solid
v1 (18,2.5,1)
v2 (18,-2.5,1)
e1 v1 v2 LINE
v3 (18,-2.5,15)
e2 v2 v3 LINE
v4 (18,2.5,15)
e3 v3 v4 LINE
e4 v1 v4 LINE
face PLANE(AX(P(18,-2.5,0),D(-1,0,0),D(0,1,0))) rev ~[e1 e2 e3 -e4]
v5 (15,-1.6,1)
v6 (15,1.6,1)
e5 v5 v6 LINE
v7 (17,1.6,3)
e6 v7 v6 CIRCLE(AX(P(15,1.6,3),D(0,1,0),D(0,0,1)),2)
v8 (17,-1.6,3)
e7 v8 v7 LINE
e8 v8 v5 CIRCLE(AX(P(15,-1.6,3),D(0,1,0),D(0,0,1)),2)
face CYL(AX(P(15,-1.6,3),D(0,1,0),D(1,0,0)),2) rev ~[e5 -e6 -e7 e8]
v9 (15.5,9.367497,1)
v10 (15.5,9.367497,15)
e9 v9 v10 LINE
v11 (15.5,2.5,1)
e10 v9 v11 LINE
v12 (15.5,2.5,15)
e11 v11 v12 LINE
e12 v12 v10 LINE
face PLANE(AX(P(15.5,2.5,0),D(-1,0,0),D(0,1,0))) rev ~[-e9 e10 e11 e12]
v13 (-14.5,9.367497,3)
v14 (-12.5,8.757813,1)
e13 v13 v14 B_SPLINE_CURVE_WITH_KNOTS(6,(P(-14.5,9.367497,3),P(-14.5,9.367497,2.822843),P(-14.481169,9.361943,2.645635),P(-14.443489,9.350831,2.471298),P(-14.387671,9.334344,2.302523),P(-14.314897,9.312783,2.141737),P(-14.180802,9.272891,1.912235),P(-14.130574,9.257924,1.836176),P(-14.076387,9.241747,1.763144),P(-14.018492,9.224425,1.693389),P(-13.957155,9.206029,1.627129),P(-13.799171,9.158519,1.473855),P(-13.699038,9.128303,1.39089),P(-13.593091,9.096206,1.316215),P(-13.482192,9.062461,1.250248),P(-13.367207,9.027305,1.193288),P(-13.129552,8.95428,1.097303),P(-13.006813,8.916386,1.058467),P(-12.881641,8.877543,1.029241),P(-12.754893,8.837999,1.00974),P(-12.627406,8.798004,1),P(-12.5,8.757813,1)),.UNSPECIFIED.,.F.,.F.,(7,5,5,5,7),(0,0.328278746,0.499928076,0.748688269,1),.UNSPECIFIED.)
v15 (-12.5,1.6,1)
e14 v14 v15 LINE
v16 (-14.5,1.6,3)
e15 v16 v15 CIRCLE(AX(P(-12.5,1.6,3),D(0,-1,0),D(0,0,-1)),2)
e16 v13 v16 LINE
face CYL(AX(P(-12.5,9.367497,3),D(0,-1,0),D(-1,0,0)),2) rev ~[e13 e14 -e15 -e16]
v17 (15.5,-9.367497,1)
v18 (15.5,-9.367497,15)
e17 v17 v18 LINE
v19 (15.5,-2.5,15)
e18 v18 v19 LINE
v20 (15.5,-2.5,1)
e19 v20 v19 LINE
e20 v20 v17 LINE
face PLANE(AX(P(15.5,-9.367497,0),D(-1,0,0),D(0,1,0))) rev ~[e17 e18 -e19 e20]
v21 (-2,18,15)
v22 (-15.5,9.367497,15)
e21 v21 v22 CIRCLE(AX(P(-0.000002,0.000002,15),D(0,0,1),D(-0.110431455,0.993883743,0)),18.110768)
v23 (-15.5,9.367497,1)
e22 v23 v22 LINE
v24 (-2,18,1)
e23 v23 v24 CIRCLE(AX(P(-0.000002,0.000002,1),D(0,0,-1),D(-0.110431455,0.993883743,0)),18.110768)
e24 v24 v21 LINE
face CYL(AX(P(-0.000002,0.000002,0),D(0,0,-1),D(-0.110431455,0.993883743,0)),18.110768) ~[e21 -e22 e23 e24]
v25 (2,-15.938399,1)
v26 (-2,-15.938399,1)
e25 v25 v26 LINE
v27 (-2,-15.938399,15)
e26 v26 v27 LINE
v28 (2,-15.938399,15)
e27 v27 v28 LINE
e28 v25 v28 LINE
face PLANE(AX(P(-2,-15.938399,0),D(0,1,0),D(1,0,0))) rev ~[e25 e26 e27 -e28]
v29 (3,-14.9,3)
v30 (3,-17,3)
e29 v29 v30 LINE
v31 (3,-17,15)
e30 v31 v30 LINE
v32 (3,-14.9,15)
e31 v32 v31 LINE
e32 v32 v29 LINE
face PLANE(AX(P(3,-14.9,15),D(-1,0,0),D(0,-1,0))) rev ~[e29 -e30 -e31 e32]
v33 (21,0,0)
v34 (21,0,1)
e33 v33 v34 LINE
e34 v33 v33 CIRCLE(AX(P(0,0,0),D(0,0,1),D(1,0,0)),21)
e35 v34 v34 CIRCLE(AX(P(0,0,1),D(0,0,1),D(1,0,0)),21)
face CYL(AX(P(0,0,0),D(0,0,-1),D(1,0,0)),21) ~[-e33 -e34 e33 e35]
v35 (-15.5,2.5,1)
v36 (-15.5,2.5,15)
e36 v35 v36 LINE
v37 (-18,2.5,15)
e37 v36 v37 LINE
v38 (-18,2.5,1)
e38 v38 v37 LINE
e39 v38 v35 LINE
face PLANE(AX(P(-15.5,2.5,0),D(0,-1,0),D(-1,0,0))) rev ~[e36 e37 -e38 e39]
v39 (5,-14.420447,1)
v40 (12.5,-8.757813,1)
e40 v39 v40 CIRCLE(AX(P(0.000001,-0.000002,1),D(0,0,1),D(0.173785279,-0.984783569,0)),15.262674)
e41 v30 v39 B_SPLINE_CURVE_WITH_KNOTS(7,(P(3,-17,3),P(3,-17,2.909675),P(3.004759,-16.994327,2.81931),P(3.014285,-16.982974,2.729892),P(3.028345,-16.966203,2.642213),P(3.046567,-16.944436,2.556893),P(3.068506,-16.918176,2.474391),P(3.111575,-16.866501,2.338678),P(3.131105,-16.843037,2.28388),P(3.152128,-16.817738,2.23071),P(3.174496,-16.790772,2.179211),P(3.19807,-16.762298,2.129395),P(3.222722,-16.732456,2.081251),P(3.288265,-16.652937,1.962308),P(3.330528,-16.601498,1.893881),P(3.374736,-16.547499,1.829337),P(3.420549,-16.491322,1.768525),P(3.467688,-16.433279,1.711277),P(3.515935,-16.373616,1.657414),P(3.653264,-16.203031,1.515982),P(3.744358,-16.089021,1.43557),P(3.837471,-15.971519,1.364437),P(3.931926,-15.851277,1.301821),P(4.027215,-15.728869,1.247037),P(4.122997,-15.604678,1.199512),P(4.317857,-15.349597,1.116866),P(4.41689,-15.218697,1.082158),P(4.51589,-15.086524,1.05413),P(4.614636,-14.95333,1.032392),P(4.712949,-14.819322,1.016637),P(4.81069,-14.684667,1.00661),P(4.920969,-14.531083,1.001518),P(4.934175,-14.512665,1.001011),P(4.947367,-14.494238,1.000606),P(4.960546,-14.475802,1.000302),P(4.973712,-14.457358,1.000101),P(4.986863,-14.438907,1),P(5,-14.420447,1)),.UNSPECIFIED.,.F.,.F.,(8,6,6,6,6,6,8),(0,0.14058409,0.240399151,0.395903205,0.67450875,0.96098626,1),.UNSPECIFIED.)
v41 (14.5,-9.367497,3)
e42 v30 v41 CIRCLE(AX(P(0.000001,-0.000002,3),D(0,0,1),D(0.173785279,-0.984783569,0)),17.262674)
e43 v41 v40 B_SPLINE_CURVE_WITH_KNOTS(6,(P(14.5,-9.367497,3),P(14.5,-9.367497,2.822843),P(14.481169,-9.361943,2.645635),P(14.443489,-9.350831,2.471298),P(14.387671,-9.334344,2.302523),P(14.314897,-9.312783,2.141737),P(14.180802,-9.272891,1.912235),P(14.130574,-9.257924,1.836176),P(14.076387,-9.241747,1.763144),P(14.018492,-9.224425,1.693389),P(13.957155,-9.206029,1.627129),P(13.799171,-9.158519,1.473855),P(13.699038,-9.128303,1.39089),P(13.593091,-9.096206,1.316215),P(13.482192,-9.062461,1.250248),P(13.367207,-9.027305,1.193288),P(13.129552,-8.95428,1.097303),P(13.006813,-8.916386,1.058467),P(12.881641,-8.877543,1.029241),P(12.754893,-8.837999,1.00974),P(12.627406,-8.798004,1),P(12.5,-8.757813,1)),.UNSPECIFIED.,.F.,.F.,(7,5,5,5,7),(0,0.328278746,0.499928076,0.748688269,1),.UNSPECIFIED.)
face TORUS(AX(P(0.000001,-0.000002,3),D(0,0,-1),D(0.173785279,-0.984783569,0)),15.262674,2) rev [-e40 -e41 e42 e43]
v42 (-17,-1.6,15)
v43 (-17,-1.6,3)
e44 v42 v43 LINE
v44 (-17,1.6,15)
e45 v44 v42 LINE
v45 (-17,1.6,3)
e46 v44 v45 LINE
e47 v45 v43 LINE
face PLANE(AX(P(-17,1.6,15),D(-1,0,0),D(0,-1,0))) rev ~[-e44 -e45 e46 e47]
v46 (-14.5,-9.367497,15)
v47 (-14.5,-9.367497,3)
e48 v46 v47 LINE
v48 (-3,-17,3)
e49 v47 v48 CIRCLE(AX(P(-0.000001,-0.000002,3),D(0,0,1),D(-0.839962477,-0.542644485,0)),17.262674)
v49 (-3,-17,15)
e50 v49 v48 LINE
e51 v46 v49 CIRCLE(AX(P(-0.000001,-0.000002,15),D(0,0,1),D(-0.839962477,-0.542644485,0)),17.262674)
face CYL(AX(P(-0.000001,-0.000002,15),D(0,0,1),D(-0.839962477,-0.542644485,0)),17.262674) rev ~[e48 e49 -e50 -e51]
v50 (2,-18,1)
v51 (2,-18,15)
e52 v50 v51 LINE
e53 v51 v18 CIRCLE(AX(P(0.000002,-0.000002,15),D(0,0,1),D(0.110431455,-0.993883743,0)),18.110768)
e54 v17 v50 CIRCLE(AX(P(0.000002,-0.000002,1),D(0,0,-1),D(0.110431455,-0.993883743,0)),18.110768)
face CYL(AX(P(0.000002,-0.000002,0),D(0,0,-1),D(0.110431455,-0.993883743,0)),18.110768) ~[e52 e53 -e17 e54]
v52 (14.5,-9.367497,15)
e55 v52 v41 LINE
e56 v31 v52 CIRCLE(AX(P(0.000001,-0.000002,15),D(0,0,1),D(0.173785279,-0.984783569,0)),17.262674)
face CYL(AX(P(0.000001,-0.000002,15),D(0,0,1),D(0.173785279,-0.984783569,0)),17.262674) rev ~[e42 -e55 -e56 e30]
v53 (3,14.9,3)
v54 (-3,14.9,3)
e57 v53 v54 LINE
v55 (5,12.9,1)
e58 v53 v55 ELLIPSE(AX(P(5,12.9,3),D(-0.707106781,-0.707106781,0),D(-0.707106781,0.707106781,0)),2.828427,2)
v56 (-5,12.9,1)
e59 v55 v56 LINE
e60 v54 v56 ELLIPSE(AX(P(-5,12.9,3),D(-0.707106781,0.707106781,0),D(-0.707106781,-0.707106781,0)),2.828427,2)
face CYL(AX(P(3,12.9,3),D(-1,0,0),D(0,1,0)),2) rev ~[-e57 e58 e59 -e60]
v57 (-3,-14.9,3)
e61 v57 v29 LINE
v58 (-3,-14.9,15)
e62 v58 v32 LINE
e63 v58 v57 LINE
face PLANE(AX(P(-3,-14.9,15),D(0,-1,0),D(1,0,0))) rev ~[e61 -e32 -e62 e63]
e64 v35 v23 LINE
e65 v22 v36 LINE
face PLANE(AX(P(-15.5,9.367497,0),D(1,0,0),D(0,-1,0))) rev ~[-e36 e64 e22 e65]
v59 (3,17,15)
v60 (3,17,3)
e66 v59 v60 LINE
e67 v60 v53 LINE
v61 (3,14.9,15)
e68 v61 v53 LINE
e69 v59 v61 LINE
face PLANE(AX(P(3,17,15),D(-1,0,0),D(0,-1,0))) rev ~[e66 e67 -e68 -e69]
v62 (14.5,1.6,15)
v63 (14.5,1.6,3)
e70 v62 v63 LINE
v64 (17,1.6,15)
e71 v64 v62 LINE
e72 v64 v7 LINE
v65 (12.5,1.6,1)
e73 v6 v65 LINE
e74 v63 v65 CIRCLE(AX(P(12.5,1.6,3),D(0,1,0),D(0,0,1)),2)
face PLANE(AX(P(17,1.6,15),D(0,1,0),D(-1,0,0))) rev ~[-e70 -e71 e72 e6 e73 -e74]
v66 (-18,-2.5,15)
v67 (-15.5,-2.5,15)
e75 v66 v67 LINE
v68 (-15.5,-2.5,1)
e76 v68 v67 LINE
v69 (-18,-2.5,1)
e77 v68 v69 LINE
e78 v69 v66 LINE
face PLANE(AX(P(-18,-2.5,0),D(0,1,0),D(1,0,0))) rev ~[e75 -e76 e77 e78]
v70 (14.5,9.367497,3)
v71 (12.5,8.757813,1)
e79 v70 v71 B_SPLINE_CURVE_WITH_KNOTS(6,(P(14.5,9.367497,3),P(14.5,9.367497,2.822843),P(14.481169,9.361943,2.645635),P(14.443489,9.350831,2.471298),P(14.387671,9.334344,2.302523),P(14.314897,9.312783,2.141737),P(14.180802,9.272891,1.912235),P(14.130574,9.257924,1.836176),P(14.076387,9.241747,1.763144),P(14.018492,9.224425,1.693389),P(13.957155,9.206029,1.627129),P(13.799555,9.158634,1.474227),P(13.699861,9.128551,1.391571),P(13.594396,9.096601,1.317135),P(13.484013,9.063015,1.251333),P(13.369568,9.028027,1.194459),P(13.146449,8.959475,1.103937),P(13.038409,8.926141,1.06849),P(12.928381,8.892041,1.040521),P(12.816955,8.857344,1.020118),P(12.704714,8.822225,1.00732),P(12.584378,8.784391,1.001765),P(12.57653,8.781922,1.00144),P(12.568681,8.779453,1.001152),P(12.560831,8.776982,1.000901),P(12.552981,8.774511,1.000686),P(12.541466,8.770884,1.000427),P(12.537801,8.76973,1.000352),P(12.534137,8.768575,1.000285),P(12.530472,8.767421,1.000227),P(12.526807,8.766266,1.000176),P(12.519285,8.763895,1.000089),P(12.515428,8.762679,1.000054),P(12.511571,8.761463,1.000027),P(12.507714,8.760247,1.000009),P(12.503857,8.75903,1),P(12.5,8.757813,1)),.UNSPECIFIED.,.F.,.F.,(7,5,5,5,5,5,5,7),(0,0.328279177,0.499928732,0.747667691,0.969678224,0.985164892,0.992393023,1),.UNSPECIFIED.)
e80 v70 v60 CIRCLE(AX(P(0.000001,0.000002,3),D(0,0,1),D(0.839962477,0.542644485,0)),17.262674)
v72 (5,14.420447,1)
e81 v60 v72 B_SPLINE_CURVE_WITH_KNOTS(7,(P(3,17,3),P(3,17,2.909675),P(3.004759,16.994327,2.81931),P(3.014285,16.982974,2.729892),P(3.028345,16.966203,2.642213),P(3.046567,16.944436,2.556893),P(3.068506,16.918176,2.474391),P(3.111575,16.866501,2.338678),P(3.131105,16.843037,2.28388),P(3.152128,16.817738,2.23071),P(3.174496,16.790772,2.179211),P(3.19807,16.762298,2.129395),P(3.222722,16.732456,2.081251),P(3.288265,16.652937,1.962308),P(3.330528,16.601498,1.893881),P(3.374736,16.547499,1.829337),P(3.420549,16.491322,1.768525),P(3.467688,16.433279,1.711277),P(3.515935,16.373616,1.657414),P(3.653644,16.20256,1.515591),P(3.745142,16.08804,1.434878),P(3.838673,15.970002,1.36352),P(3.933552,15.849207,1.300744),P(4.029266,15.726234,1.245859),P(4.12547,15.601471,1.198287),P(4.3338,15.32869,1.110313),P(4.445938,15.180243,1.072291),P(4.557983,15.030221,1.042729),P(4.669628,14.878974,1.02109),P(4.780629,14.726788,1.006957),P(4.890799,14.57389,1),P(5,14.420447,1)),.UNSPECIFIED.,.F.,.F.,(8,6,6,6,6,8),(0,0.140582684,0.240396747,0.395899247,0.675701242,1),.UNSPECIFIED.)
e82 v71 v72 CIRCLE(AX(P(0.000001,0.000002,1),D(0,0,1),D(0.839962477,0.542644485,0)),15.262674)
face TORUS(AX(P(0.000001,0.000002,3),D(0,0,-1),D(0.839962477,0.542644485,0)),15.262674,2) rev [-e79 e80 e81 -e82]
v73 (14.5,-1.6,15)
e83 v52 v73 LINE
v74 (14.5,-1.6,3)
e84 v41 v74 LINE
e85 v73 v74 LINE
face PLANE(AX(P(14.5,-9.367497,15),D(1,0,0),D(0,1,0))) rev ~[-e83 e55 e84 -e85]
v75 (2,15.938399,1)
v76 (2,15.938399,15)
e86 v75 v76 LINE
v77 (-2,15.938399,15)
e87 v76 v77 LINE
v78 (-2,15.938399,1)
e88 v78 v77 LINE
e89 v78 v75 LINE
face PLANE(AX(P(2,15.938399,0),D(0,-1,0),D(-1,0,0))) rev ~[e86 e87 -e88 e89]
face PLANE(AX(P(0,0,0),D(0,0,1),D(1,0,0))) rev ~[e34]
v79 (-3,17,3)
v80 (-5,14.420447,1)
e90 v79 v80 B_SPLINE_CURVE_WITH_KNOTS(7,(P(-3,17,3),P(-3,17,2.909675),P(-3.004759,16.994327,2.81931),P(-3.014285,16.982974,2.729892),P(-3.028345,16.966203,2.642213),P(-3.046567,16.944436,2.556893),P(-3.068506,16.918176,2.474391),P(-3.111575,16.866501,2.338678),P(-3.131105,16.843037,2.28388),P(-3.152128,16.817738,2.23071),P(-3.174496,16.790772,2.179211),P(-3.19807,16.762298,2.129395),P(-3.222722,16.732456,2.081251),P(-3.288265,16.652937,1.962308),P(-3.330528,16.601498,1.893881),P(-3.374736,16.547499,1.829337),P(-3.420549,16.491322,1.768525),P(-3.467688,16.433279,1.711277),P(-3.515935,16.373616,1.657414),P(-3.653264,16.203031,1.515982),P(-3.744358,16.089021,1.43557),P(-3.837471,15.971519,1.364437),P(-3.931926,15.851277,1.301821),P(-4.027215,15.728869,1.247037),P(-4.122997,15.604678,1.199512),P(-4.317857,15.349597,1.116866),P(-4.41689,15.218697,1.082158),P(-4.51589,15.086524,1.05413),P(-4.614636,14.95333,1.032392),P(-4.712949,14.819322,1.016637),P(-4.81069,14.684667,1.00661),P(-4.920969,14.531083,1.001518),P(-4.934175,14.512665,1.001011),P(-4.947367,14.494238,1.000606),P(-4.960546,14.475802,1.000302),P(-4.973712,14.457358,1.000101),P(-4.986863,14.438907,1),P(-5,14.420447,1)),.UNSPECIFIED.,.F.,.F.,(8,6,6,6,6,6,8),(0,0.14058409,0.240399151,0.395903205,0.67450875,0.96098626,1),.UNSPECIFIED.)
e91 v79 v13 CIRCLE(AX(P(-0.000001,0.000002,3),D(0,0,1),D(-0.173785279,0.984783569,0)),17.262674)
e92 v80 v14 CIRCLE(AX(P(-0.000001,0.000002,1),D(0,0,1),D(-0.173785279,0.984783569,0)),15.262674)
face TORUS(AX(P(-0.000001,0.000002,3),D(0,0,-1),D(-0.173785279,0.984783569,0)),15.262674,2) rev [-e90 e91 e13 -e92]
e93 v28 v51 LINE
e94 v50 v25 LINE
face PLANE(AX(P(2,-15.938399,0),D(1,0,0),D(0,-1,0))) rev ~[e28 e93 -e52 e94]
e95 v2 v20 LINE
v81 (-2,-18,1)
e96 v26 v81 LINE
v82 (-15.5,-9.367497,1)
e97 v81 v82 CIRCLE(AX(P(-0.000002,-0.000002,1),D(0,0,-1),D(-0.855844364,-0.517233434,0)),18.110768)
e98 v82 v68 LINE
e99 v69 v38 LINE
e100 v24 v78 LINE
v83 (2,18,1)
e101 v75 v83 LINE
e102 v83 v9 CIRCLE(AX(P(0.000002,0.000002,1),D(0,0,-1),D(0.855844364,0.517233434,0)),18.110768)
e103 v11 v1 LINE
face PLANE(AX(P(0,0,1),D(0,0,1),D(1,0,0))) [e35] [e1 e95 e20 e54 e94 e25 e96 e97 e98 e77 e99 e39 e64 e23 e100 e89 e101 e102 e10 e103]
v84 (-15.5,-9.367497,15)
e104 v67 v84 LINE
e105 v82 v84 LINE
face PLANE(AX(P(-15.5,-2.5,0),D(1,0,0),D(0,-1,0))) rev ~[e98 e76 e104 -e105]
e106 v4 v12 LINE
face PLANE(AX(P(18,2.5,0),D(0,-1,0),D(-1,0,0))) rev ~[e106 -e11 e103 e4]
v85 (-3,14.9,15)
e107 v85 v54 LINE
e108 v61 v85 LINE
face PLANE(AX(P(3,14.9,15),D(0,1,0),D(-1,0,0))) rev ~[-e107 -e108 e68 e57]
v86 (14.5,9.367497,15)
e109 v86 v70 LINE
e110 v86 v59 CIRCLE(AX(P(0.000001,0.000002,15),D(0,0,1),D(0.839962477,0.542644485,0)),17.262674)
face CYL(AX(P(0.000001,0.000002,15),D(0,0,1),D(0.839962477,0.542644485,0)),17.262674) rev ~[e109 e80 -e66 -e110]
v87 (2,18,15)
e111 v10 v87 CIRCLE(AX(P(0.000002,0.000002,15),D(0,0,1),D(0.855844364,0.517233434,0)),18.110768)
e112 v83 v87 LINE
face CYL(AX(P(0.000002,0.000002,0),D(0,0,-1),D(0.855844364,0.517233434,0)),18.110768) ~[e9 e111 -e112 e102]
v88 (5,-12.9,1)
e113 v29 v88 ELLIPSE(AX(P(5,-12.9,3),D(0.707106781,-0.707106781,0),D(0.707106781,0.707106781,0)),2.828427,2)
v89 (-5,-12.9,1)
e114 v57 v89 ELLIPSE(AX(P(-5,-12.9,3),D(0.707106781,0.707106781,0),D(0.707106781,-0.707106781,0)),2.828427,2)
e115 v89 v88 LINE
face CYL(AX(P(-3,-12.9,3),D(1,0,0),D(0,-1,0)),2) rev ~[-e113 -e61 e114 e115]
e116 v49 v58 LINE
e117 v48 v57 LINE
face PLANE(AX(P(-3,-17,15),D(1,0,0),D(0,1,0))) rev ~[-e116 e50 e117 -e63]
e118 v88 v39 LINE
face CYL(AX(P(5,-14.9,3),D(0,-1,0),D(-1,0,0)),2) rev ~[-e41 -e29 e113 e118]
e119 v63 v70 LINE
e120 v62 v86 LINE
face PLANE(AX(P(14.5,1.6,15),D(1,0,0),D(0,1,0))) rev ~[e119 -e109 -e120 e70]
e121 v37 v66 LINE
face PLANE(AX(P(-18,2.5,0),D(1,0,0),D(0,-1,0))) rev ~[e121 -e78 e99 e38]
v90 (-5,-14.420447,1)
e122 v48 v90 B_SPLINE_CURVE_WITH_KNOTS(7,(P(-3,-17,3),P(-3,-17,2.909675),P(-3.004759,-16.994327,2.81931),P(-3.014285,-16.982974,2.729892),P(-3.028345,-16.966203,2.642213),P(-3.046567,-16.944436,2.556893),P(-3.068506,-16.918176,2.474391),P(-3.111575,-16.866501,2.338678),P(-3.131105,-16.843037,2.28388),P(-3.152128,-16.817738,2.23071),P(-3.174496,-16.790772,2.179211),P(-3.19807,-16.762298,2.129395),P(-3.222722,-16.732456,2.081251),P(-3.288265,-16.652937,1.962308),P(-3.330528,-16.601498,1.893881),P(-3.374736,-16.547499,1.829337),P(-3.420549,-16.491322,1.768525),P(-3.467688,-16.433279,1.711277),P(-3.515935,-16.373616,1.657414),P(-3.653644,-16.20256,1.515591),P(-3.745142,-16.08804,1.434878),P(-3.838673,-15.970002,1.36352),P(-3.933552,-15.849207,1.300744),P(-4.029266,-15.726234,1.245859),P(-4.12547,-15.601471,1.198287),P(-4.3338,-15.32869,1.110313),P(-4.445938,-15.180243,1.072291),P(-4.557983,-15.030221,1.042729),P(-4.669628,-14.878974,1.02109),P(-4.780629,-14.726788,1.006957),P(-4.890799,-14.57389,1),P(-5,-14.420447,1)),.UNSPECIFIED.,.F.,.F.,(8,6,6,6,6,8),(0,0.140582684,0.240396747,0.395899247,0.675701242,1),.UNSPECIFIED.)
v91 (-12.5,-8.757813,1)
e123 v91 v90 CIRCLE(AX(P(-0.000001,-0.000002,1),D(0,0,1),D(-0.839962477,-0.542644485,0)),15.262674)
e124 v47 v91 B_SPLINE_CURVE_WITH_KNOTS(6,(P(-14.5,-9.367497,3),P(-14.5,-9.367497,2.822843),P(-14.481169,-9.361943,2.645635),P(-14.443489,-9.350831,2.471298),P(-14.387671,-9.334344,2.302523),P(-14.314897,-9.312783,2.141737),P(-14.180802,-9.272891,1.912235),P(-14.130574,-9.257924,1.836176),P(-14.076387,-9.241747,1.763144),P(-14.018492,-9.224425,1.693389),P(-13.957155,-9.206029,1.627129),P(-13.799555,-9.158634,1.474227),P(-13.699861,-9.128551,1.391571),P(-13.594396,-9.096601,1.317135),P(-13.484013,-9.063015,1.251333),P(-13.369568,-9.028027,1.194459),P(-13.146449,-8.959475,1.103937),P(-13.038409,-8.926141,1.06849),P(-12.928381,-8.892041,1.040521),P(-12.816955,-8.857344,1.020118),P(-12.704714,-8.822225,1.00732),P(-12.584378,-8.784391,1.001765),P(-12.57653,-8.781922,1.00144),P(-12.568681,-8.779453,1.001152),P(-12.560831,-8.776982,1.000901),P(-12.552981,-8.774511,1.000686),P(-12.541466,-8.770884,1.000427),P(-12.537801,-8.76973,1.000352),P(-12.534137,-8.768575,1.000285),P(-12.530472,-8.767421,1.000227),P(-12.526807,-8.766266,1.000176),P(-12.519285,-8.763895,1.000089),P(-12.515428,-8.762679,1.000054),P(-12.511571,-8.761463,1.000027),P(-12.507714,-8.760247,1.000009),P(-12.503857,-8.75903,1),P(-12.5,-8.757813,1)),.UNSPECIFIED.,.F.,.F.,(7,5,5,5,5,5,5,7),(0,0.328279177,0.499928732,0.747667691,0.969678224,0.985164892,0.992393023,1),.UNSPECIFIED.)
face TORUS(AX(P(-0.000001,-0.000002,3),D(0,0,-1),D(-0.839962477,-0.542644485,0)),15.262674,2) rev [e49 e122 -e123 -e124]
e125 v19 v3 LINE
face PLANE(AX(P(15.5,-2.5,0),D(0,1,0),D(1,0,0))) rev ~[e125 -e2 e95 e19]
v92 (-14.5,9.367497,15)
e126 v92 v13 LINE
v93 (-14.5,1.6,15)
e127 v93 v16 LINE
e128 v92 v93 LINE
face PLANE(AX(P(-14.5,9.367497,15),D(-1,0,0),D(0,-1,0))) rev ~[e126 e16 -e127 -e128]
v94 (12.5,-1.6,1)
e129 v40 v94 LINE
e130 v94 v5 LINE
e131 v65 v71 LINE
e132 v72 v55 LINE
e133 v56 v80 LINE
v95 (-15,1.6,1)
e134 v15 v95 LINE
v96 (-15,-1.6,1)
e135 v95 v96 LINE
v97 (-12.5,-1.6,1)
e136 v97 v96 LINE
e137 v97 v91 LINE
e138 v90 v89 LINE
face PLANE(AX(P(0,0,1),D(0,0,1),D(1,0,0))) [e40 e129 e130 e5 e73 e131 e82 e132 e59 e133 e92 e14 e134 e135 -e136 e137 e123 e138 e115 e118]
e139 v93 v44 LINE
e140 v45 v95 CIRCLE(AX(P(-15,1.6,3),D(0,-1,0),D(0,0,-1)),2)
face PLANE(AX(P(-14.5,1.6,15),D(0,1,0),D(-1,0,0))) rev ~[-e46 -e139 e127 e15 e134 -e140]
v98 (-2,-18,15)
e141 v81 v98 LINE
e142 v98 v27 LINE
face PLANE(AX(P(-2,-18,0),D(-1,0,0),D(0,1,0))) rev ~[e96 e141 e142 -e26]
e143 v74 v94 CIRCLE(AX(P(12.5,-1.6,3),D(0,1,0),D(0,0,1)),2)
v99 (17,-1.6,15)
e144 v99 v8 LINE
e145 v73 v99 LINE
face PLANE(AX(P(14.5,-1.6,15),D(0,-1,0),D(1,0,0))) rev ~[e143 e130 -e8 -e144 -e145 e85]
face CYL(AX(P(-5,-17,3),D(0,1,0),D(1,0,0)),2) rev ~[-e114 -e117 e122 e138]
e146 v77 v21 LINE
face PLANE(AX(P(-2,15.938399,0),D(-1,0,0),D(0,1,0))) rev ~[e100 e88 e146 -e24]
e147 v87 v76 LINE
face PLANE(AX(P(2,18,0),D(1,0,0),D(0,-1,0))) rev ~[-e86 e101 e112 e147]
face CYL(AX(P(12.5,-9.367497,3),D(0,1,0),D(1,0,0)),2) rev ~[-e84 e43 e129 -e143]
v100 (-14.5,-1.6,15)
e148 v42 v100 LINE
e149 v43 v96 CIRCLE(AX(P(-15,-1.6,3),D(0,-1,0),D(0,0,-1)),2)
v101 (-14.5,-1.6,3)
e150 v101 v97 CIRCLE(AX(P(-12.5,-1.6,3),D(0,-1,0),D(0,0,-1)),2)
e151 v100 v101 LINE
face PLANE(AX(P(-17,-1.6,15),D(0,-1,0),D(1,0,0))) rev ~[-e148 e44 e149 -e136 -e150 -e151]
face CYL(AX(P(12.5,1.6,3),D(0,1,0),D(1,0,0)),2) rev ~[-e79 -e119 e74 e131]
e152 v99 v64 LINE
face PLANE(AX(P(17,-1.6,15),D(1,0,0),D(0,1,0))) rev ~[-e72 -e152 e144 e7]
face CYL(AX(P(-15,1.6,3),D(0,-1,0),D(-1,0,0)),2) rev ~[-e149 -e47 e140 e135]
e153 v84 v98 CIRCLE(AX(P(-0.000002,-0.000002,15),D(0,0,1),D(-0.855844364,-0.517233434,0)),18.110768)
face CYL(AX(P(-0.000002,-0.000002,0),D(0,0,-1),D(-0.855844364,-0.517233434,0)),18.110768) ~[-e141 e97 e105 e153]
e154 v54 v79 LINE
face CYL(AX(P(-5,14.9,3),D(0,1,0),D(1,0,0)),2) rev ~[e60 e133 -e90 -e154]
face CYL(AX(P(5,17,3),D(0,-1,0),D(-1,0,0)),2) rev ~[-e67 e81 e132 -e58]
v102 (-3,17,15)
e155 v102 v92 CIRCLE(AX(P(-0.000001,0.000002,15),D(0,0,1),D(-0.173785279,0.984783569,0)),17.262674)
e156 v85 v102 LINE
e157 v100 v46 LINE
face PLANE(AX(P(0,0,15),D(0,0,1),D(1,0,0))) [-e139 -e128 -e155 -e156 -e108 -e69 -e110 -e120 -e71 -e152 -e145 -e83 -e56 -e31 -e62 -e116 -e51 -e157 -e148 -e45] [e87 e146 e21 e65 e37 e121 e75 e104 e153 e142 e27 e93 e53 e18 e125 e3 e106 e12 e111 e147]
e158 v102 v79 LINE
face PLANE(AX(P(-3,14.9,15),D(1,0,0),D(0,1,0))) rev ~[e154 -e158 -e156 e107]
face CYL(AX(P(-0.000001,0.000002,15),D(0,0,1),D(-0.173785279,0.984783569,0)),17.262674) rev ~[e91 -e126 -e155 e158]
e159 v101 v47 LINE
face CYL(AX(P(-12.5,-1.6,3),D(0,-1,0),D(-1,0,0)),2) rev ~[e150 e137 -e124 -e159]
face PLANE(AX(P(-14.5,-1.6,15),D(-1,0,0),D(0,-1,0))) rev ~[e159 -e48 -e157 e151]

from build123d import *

# Parameters (mm, degrees)
F0_R     = 21
F1_DEPTH = 1
F2_DEPTH = 15
F4_DEPTH = 14
F5_R     = 2


with BuildPart() as f1:
    # F0 (on Top) → F1 (new body)
    with BuildSketch(Plane.XY):
        Circle(F0_R)
        with BuildLine():
            Line((-15.5, -2.5), (-18, -2.5))
            Line((-18, -2.5), (-18, 0))
            Line((-18, 0), (-18, 2.5))
            Line((-18, 2.5), (-15.5, 2.5))
            Line((-15.5, 2.5), (-15.5, 9.367497))
            ThreePointArc((-15.5, 9.367497), (-9.756666, 15.25803), (-2, 18))
            Line((-2, 18), (-2, 15.938399))
            Line((-2, 15.938399), (0, 15.938399))
            Line((0, 15.938399), (2, 15.938399))
            Line((2, 15.938399), (2, 18))
            ThreePointArc((2, 18), (9.756666, 15.25803), (15.5, 9.367497))
            Line((15.5, 9.367497), (15.5, 2.5))
            Line((15.5, 2.5), (18, 2.5))
            Line((18, 2.5), (18, 0))
            Line((18, 0), (18, -2.5))
            Line((18, -2.5), (15.5, -2.5))
            Line((15.5, -2.5), (15.5, -9.367497))
            ThreePointArc((15.5, -9.367497), (9.756666, -15.25803), (2, -18))
            Line((2, -18), (2, -15.938399))
            Line((2, -15.938399), (0, -15.938399))
            Line((0, -15.938399), (-2, -15.938399))
            Line((-2, -15.938399), (-2, -18))
            ThreePointArc((-2, -18), (-9.756666, -15.25803), (-15.5, -9.367497))
            Line((-15.5, -9.367497), (-15.5, -2.5))
        make_face(mode=Mode.SUBTRACT)
        with BuildLine():
            Line((-18, 0), (-18, -2.5))
            Line((-18, -2.5), (-15.5, -2.5))
            Line((-15.5, -2.5), (-15.5, -9.367497))
            ThreePointArc((-15.5, -9.367497), (-9.756666, -15.25803), (-2, -18))
            Line((-2, -18), (-2, -15.938399))
            Line((-2, -15.938399), (0, -15.938399))
            Line((0, -15.938399), (2, -15.938399))
            Line((2, -15.938399), (2, -18))
            ThreePointArc((2, -18), (9.756666, -15.25803), (15.5, -9.367497))
            Line((15.5, -9.367497), (15.5, -2.5))
            Line((15.5, -2.5), (18, -2.5))
            Line((18, -2.5), (18, 0))
            Line((18, 0), (18, 2.5))
            Line((18, 2.5), (15.5, 2.5))
            Line((15.5, 2.5), (15.5, 9.367497))
            ThreePointArc((15.5, 9.367497), (9.756666, 15.25803), (2, 18))
            Line((2, 18), (2, 15.938399))
            Line((2, 15.938399), (0, 15.938399))
            Line((0, 15.938399), (-2, 15.938399))
            Line((-2, 15.938399), (-2, 18))
            ThreePointArc((-2, 18), (-9.756666, 15.25803), (-15.5, 9.367497))
            Line((-15.5, 9.367497), (-15.5, 2.5))
            Line((-15.5, 2.5), (-18, 2.5))
            Line((-18, 2.5), (-18, 0))
        make_face()
    extrude(amount=F1_DEPTH)

    # F0 (on Top) → F2 (join)
    with BuildSketch(Plane.XY):
        with BuildLine():
            Line((-18, 0), (-18, -2.5))
            Line((-18, -2.5), (-15.5, -2.5))
            Line((-15.5, -2.5), (-15.5, -9.367497))
            ThreePointArc((-15.5, -9.367497), (-9.756666, -15.25803), (-2, -18))
            Line((-2, -18), (-2, -15.938399))
            Line((-2, -15.938399), (0, -15.938399))
            Line((0, -15.938399), (2, -15.938399))
            Line((2, -15.938399), (2, -18))
            ThreePointArc((2, -18), (9.756666, -15.25803), (15.5, -9.367497))
            Line((15.5, -9.367497), (15.5, -2.5))
            Line((15.5, -2.5), (18, -2.5))
            Line((18, -2.5), (18, 0))
            Line((18, 0), (18, 2.5))
            Line((18, 2.5), (15.5, 2.5))
            Line((15.5, 2.5), (15.5, 9.367497))
            ThreePointArc((15.5, 9.367497), (9.756666, 15.25803), (2, 18))
            Line((2, 18), (2, 15.938399))
            Line((2, 15.938399), (0, 15.938399))
            Line((0, 15.938399), (-2, 15.938399))
            Line((-2, 15.938399), (-2, 18))
            ThreePointArc((-2, 18), (-9.756666, 15.25803), (-15.5, 9.367497))
            Line((-15.5, 9.367497), (-15.5, 2.5))
            Line((-15.5, 2.5), (-18, 2.5))
            Line((-18, 2.5), (-18, 0))
        make_face()
    extrude(amount=F2_DEPTH)

    # F3 (on face) → F4 (cut)
    with BuildSketch(Plane.XY.offset(15)):
        with BuildLine():
            Line((-17, 0), (-17, -1.6))
            Line((-17, -1.6), (-14.5, -1.6))
            Line((-14.5, -1.6), (-14.5, -9.367497))
            ThreePointArc((-14.5, -9.367497), (-9.546008, -14.383106), (-3, -17))
            Line((-3, -17), (-3, -14.9))
            Line((-3, -14.9), (0, -14.9))
            Line((0, -14.9), (3, -14.9))
            Line((3, -14.9), (3, -17))
            ThreePointArc((3, -17), (9.546008, -14.383106), (14.5, -9.367497))
            Line((14.5, -9.367497), (14.5, -1.6))
            Line((14.5, -1.6), (17, -1.6))
            Line((17, -1.6), (17, 0))
            Line((17, 0), (17, 1.6))
            Line((17, 1.6), (14.5, 1.6))
            Line((14.5, 1.6), (14.5, 9.367497))
            ThreePointArc((14.5, 9.367497), (9.546008, 14.383106), (3, 17))
            Line((3, 17), (3, 14.9))
            Line((3, 14.9), (0, 14.9))
            Line((0, 14.9), (-3, 14.9))
            Line((-3, 14.9), (-3, 17))
            ThreePointArc((-3, 17), (-9.546008, 14.383106), (-14.5, 9.367497))
            Line((-14.5, 9.367497), (-14.5, 1.6))
            Line((-14.5, 1.6), (-17, 1.6))
            Line((-17, 1.6), (-17, 0))
        make_face()
    extrude(amount=-F4_DEPTH, mode=Mode.SUBTRACT)

    # F5
    f5_edges = [f1.edges().sort_by_distance(p)[0] for p in [
        (-14.5, -5.483748, 1),
        (-17, 0, 1),
        (-14.5, 5.483748, 1),
        (-9.546008, 14.383106, 1),
        (-9.546008, -14.383106, 1),
        (9.546008, -14.383106, 1),
        (0, -14.9, 1),
        (14.5, -5.483748, 1),
        (14.5, 5.483748, 1),
        (17, 0, 1),
        (9.546008, 14.383106, 1),
        (0, 14.9, 1),
        (3, -15.95, 1),
        (-3, -15.95, 1),
        (3, 15.95, 1),
        (-3, 15.95, 1),
    ]]
    fillet(f5_edges, radius=F5_R)


solid = f1.part
